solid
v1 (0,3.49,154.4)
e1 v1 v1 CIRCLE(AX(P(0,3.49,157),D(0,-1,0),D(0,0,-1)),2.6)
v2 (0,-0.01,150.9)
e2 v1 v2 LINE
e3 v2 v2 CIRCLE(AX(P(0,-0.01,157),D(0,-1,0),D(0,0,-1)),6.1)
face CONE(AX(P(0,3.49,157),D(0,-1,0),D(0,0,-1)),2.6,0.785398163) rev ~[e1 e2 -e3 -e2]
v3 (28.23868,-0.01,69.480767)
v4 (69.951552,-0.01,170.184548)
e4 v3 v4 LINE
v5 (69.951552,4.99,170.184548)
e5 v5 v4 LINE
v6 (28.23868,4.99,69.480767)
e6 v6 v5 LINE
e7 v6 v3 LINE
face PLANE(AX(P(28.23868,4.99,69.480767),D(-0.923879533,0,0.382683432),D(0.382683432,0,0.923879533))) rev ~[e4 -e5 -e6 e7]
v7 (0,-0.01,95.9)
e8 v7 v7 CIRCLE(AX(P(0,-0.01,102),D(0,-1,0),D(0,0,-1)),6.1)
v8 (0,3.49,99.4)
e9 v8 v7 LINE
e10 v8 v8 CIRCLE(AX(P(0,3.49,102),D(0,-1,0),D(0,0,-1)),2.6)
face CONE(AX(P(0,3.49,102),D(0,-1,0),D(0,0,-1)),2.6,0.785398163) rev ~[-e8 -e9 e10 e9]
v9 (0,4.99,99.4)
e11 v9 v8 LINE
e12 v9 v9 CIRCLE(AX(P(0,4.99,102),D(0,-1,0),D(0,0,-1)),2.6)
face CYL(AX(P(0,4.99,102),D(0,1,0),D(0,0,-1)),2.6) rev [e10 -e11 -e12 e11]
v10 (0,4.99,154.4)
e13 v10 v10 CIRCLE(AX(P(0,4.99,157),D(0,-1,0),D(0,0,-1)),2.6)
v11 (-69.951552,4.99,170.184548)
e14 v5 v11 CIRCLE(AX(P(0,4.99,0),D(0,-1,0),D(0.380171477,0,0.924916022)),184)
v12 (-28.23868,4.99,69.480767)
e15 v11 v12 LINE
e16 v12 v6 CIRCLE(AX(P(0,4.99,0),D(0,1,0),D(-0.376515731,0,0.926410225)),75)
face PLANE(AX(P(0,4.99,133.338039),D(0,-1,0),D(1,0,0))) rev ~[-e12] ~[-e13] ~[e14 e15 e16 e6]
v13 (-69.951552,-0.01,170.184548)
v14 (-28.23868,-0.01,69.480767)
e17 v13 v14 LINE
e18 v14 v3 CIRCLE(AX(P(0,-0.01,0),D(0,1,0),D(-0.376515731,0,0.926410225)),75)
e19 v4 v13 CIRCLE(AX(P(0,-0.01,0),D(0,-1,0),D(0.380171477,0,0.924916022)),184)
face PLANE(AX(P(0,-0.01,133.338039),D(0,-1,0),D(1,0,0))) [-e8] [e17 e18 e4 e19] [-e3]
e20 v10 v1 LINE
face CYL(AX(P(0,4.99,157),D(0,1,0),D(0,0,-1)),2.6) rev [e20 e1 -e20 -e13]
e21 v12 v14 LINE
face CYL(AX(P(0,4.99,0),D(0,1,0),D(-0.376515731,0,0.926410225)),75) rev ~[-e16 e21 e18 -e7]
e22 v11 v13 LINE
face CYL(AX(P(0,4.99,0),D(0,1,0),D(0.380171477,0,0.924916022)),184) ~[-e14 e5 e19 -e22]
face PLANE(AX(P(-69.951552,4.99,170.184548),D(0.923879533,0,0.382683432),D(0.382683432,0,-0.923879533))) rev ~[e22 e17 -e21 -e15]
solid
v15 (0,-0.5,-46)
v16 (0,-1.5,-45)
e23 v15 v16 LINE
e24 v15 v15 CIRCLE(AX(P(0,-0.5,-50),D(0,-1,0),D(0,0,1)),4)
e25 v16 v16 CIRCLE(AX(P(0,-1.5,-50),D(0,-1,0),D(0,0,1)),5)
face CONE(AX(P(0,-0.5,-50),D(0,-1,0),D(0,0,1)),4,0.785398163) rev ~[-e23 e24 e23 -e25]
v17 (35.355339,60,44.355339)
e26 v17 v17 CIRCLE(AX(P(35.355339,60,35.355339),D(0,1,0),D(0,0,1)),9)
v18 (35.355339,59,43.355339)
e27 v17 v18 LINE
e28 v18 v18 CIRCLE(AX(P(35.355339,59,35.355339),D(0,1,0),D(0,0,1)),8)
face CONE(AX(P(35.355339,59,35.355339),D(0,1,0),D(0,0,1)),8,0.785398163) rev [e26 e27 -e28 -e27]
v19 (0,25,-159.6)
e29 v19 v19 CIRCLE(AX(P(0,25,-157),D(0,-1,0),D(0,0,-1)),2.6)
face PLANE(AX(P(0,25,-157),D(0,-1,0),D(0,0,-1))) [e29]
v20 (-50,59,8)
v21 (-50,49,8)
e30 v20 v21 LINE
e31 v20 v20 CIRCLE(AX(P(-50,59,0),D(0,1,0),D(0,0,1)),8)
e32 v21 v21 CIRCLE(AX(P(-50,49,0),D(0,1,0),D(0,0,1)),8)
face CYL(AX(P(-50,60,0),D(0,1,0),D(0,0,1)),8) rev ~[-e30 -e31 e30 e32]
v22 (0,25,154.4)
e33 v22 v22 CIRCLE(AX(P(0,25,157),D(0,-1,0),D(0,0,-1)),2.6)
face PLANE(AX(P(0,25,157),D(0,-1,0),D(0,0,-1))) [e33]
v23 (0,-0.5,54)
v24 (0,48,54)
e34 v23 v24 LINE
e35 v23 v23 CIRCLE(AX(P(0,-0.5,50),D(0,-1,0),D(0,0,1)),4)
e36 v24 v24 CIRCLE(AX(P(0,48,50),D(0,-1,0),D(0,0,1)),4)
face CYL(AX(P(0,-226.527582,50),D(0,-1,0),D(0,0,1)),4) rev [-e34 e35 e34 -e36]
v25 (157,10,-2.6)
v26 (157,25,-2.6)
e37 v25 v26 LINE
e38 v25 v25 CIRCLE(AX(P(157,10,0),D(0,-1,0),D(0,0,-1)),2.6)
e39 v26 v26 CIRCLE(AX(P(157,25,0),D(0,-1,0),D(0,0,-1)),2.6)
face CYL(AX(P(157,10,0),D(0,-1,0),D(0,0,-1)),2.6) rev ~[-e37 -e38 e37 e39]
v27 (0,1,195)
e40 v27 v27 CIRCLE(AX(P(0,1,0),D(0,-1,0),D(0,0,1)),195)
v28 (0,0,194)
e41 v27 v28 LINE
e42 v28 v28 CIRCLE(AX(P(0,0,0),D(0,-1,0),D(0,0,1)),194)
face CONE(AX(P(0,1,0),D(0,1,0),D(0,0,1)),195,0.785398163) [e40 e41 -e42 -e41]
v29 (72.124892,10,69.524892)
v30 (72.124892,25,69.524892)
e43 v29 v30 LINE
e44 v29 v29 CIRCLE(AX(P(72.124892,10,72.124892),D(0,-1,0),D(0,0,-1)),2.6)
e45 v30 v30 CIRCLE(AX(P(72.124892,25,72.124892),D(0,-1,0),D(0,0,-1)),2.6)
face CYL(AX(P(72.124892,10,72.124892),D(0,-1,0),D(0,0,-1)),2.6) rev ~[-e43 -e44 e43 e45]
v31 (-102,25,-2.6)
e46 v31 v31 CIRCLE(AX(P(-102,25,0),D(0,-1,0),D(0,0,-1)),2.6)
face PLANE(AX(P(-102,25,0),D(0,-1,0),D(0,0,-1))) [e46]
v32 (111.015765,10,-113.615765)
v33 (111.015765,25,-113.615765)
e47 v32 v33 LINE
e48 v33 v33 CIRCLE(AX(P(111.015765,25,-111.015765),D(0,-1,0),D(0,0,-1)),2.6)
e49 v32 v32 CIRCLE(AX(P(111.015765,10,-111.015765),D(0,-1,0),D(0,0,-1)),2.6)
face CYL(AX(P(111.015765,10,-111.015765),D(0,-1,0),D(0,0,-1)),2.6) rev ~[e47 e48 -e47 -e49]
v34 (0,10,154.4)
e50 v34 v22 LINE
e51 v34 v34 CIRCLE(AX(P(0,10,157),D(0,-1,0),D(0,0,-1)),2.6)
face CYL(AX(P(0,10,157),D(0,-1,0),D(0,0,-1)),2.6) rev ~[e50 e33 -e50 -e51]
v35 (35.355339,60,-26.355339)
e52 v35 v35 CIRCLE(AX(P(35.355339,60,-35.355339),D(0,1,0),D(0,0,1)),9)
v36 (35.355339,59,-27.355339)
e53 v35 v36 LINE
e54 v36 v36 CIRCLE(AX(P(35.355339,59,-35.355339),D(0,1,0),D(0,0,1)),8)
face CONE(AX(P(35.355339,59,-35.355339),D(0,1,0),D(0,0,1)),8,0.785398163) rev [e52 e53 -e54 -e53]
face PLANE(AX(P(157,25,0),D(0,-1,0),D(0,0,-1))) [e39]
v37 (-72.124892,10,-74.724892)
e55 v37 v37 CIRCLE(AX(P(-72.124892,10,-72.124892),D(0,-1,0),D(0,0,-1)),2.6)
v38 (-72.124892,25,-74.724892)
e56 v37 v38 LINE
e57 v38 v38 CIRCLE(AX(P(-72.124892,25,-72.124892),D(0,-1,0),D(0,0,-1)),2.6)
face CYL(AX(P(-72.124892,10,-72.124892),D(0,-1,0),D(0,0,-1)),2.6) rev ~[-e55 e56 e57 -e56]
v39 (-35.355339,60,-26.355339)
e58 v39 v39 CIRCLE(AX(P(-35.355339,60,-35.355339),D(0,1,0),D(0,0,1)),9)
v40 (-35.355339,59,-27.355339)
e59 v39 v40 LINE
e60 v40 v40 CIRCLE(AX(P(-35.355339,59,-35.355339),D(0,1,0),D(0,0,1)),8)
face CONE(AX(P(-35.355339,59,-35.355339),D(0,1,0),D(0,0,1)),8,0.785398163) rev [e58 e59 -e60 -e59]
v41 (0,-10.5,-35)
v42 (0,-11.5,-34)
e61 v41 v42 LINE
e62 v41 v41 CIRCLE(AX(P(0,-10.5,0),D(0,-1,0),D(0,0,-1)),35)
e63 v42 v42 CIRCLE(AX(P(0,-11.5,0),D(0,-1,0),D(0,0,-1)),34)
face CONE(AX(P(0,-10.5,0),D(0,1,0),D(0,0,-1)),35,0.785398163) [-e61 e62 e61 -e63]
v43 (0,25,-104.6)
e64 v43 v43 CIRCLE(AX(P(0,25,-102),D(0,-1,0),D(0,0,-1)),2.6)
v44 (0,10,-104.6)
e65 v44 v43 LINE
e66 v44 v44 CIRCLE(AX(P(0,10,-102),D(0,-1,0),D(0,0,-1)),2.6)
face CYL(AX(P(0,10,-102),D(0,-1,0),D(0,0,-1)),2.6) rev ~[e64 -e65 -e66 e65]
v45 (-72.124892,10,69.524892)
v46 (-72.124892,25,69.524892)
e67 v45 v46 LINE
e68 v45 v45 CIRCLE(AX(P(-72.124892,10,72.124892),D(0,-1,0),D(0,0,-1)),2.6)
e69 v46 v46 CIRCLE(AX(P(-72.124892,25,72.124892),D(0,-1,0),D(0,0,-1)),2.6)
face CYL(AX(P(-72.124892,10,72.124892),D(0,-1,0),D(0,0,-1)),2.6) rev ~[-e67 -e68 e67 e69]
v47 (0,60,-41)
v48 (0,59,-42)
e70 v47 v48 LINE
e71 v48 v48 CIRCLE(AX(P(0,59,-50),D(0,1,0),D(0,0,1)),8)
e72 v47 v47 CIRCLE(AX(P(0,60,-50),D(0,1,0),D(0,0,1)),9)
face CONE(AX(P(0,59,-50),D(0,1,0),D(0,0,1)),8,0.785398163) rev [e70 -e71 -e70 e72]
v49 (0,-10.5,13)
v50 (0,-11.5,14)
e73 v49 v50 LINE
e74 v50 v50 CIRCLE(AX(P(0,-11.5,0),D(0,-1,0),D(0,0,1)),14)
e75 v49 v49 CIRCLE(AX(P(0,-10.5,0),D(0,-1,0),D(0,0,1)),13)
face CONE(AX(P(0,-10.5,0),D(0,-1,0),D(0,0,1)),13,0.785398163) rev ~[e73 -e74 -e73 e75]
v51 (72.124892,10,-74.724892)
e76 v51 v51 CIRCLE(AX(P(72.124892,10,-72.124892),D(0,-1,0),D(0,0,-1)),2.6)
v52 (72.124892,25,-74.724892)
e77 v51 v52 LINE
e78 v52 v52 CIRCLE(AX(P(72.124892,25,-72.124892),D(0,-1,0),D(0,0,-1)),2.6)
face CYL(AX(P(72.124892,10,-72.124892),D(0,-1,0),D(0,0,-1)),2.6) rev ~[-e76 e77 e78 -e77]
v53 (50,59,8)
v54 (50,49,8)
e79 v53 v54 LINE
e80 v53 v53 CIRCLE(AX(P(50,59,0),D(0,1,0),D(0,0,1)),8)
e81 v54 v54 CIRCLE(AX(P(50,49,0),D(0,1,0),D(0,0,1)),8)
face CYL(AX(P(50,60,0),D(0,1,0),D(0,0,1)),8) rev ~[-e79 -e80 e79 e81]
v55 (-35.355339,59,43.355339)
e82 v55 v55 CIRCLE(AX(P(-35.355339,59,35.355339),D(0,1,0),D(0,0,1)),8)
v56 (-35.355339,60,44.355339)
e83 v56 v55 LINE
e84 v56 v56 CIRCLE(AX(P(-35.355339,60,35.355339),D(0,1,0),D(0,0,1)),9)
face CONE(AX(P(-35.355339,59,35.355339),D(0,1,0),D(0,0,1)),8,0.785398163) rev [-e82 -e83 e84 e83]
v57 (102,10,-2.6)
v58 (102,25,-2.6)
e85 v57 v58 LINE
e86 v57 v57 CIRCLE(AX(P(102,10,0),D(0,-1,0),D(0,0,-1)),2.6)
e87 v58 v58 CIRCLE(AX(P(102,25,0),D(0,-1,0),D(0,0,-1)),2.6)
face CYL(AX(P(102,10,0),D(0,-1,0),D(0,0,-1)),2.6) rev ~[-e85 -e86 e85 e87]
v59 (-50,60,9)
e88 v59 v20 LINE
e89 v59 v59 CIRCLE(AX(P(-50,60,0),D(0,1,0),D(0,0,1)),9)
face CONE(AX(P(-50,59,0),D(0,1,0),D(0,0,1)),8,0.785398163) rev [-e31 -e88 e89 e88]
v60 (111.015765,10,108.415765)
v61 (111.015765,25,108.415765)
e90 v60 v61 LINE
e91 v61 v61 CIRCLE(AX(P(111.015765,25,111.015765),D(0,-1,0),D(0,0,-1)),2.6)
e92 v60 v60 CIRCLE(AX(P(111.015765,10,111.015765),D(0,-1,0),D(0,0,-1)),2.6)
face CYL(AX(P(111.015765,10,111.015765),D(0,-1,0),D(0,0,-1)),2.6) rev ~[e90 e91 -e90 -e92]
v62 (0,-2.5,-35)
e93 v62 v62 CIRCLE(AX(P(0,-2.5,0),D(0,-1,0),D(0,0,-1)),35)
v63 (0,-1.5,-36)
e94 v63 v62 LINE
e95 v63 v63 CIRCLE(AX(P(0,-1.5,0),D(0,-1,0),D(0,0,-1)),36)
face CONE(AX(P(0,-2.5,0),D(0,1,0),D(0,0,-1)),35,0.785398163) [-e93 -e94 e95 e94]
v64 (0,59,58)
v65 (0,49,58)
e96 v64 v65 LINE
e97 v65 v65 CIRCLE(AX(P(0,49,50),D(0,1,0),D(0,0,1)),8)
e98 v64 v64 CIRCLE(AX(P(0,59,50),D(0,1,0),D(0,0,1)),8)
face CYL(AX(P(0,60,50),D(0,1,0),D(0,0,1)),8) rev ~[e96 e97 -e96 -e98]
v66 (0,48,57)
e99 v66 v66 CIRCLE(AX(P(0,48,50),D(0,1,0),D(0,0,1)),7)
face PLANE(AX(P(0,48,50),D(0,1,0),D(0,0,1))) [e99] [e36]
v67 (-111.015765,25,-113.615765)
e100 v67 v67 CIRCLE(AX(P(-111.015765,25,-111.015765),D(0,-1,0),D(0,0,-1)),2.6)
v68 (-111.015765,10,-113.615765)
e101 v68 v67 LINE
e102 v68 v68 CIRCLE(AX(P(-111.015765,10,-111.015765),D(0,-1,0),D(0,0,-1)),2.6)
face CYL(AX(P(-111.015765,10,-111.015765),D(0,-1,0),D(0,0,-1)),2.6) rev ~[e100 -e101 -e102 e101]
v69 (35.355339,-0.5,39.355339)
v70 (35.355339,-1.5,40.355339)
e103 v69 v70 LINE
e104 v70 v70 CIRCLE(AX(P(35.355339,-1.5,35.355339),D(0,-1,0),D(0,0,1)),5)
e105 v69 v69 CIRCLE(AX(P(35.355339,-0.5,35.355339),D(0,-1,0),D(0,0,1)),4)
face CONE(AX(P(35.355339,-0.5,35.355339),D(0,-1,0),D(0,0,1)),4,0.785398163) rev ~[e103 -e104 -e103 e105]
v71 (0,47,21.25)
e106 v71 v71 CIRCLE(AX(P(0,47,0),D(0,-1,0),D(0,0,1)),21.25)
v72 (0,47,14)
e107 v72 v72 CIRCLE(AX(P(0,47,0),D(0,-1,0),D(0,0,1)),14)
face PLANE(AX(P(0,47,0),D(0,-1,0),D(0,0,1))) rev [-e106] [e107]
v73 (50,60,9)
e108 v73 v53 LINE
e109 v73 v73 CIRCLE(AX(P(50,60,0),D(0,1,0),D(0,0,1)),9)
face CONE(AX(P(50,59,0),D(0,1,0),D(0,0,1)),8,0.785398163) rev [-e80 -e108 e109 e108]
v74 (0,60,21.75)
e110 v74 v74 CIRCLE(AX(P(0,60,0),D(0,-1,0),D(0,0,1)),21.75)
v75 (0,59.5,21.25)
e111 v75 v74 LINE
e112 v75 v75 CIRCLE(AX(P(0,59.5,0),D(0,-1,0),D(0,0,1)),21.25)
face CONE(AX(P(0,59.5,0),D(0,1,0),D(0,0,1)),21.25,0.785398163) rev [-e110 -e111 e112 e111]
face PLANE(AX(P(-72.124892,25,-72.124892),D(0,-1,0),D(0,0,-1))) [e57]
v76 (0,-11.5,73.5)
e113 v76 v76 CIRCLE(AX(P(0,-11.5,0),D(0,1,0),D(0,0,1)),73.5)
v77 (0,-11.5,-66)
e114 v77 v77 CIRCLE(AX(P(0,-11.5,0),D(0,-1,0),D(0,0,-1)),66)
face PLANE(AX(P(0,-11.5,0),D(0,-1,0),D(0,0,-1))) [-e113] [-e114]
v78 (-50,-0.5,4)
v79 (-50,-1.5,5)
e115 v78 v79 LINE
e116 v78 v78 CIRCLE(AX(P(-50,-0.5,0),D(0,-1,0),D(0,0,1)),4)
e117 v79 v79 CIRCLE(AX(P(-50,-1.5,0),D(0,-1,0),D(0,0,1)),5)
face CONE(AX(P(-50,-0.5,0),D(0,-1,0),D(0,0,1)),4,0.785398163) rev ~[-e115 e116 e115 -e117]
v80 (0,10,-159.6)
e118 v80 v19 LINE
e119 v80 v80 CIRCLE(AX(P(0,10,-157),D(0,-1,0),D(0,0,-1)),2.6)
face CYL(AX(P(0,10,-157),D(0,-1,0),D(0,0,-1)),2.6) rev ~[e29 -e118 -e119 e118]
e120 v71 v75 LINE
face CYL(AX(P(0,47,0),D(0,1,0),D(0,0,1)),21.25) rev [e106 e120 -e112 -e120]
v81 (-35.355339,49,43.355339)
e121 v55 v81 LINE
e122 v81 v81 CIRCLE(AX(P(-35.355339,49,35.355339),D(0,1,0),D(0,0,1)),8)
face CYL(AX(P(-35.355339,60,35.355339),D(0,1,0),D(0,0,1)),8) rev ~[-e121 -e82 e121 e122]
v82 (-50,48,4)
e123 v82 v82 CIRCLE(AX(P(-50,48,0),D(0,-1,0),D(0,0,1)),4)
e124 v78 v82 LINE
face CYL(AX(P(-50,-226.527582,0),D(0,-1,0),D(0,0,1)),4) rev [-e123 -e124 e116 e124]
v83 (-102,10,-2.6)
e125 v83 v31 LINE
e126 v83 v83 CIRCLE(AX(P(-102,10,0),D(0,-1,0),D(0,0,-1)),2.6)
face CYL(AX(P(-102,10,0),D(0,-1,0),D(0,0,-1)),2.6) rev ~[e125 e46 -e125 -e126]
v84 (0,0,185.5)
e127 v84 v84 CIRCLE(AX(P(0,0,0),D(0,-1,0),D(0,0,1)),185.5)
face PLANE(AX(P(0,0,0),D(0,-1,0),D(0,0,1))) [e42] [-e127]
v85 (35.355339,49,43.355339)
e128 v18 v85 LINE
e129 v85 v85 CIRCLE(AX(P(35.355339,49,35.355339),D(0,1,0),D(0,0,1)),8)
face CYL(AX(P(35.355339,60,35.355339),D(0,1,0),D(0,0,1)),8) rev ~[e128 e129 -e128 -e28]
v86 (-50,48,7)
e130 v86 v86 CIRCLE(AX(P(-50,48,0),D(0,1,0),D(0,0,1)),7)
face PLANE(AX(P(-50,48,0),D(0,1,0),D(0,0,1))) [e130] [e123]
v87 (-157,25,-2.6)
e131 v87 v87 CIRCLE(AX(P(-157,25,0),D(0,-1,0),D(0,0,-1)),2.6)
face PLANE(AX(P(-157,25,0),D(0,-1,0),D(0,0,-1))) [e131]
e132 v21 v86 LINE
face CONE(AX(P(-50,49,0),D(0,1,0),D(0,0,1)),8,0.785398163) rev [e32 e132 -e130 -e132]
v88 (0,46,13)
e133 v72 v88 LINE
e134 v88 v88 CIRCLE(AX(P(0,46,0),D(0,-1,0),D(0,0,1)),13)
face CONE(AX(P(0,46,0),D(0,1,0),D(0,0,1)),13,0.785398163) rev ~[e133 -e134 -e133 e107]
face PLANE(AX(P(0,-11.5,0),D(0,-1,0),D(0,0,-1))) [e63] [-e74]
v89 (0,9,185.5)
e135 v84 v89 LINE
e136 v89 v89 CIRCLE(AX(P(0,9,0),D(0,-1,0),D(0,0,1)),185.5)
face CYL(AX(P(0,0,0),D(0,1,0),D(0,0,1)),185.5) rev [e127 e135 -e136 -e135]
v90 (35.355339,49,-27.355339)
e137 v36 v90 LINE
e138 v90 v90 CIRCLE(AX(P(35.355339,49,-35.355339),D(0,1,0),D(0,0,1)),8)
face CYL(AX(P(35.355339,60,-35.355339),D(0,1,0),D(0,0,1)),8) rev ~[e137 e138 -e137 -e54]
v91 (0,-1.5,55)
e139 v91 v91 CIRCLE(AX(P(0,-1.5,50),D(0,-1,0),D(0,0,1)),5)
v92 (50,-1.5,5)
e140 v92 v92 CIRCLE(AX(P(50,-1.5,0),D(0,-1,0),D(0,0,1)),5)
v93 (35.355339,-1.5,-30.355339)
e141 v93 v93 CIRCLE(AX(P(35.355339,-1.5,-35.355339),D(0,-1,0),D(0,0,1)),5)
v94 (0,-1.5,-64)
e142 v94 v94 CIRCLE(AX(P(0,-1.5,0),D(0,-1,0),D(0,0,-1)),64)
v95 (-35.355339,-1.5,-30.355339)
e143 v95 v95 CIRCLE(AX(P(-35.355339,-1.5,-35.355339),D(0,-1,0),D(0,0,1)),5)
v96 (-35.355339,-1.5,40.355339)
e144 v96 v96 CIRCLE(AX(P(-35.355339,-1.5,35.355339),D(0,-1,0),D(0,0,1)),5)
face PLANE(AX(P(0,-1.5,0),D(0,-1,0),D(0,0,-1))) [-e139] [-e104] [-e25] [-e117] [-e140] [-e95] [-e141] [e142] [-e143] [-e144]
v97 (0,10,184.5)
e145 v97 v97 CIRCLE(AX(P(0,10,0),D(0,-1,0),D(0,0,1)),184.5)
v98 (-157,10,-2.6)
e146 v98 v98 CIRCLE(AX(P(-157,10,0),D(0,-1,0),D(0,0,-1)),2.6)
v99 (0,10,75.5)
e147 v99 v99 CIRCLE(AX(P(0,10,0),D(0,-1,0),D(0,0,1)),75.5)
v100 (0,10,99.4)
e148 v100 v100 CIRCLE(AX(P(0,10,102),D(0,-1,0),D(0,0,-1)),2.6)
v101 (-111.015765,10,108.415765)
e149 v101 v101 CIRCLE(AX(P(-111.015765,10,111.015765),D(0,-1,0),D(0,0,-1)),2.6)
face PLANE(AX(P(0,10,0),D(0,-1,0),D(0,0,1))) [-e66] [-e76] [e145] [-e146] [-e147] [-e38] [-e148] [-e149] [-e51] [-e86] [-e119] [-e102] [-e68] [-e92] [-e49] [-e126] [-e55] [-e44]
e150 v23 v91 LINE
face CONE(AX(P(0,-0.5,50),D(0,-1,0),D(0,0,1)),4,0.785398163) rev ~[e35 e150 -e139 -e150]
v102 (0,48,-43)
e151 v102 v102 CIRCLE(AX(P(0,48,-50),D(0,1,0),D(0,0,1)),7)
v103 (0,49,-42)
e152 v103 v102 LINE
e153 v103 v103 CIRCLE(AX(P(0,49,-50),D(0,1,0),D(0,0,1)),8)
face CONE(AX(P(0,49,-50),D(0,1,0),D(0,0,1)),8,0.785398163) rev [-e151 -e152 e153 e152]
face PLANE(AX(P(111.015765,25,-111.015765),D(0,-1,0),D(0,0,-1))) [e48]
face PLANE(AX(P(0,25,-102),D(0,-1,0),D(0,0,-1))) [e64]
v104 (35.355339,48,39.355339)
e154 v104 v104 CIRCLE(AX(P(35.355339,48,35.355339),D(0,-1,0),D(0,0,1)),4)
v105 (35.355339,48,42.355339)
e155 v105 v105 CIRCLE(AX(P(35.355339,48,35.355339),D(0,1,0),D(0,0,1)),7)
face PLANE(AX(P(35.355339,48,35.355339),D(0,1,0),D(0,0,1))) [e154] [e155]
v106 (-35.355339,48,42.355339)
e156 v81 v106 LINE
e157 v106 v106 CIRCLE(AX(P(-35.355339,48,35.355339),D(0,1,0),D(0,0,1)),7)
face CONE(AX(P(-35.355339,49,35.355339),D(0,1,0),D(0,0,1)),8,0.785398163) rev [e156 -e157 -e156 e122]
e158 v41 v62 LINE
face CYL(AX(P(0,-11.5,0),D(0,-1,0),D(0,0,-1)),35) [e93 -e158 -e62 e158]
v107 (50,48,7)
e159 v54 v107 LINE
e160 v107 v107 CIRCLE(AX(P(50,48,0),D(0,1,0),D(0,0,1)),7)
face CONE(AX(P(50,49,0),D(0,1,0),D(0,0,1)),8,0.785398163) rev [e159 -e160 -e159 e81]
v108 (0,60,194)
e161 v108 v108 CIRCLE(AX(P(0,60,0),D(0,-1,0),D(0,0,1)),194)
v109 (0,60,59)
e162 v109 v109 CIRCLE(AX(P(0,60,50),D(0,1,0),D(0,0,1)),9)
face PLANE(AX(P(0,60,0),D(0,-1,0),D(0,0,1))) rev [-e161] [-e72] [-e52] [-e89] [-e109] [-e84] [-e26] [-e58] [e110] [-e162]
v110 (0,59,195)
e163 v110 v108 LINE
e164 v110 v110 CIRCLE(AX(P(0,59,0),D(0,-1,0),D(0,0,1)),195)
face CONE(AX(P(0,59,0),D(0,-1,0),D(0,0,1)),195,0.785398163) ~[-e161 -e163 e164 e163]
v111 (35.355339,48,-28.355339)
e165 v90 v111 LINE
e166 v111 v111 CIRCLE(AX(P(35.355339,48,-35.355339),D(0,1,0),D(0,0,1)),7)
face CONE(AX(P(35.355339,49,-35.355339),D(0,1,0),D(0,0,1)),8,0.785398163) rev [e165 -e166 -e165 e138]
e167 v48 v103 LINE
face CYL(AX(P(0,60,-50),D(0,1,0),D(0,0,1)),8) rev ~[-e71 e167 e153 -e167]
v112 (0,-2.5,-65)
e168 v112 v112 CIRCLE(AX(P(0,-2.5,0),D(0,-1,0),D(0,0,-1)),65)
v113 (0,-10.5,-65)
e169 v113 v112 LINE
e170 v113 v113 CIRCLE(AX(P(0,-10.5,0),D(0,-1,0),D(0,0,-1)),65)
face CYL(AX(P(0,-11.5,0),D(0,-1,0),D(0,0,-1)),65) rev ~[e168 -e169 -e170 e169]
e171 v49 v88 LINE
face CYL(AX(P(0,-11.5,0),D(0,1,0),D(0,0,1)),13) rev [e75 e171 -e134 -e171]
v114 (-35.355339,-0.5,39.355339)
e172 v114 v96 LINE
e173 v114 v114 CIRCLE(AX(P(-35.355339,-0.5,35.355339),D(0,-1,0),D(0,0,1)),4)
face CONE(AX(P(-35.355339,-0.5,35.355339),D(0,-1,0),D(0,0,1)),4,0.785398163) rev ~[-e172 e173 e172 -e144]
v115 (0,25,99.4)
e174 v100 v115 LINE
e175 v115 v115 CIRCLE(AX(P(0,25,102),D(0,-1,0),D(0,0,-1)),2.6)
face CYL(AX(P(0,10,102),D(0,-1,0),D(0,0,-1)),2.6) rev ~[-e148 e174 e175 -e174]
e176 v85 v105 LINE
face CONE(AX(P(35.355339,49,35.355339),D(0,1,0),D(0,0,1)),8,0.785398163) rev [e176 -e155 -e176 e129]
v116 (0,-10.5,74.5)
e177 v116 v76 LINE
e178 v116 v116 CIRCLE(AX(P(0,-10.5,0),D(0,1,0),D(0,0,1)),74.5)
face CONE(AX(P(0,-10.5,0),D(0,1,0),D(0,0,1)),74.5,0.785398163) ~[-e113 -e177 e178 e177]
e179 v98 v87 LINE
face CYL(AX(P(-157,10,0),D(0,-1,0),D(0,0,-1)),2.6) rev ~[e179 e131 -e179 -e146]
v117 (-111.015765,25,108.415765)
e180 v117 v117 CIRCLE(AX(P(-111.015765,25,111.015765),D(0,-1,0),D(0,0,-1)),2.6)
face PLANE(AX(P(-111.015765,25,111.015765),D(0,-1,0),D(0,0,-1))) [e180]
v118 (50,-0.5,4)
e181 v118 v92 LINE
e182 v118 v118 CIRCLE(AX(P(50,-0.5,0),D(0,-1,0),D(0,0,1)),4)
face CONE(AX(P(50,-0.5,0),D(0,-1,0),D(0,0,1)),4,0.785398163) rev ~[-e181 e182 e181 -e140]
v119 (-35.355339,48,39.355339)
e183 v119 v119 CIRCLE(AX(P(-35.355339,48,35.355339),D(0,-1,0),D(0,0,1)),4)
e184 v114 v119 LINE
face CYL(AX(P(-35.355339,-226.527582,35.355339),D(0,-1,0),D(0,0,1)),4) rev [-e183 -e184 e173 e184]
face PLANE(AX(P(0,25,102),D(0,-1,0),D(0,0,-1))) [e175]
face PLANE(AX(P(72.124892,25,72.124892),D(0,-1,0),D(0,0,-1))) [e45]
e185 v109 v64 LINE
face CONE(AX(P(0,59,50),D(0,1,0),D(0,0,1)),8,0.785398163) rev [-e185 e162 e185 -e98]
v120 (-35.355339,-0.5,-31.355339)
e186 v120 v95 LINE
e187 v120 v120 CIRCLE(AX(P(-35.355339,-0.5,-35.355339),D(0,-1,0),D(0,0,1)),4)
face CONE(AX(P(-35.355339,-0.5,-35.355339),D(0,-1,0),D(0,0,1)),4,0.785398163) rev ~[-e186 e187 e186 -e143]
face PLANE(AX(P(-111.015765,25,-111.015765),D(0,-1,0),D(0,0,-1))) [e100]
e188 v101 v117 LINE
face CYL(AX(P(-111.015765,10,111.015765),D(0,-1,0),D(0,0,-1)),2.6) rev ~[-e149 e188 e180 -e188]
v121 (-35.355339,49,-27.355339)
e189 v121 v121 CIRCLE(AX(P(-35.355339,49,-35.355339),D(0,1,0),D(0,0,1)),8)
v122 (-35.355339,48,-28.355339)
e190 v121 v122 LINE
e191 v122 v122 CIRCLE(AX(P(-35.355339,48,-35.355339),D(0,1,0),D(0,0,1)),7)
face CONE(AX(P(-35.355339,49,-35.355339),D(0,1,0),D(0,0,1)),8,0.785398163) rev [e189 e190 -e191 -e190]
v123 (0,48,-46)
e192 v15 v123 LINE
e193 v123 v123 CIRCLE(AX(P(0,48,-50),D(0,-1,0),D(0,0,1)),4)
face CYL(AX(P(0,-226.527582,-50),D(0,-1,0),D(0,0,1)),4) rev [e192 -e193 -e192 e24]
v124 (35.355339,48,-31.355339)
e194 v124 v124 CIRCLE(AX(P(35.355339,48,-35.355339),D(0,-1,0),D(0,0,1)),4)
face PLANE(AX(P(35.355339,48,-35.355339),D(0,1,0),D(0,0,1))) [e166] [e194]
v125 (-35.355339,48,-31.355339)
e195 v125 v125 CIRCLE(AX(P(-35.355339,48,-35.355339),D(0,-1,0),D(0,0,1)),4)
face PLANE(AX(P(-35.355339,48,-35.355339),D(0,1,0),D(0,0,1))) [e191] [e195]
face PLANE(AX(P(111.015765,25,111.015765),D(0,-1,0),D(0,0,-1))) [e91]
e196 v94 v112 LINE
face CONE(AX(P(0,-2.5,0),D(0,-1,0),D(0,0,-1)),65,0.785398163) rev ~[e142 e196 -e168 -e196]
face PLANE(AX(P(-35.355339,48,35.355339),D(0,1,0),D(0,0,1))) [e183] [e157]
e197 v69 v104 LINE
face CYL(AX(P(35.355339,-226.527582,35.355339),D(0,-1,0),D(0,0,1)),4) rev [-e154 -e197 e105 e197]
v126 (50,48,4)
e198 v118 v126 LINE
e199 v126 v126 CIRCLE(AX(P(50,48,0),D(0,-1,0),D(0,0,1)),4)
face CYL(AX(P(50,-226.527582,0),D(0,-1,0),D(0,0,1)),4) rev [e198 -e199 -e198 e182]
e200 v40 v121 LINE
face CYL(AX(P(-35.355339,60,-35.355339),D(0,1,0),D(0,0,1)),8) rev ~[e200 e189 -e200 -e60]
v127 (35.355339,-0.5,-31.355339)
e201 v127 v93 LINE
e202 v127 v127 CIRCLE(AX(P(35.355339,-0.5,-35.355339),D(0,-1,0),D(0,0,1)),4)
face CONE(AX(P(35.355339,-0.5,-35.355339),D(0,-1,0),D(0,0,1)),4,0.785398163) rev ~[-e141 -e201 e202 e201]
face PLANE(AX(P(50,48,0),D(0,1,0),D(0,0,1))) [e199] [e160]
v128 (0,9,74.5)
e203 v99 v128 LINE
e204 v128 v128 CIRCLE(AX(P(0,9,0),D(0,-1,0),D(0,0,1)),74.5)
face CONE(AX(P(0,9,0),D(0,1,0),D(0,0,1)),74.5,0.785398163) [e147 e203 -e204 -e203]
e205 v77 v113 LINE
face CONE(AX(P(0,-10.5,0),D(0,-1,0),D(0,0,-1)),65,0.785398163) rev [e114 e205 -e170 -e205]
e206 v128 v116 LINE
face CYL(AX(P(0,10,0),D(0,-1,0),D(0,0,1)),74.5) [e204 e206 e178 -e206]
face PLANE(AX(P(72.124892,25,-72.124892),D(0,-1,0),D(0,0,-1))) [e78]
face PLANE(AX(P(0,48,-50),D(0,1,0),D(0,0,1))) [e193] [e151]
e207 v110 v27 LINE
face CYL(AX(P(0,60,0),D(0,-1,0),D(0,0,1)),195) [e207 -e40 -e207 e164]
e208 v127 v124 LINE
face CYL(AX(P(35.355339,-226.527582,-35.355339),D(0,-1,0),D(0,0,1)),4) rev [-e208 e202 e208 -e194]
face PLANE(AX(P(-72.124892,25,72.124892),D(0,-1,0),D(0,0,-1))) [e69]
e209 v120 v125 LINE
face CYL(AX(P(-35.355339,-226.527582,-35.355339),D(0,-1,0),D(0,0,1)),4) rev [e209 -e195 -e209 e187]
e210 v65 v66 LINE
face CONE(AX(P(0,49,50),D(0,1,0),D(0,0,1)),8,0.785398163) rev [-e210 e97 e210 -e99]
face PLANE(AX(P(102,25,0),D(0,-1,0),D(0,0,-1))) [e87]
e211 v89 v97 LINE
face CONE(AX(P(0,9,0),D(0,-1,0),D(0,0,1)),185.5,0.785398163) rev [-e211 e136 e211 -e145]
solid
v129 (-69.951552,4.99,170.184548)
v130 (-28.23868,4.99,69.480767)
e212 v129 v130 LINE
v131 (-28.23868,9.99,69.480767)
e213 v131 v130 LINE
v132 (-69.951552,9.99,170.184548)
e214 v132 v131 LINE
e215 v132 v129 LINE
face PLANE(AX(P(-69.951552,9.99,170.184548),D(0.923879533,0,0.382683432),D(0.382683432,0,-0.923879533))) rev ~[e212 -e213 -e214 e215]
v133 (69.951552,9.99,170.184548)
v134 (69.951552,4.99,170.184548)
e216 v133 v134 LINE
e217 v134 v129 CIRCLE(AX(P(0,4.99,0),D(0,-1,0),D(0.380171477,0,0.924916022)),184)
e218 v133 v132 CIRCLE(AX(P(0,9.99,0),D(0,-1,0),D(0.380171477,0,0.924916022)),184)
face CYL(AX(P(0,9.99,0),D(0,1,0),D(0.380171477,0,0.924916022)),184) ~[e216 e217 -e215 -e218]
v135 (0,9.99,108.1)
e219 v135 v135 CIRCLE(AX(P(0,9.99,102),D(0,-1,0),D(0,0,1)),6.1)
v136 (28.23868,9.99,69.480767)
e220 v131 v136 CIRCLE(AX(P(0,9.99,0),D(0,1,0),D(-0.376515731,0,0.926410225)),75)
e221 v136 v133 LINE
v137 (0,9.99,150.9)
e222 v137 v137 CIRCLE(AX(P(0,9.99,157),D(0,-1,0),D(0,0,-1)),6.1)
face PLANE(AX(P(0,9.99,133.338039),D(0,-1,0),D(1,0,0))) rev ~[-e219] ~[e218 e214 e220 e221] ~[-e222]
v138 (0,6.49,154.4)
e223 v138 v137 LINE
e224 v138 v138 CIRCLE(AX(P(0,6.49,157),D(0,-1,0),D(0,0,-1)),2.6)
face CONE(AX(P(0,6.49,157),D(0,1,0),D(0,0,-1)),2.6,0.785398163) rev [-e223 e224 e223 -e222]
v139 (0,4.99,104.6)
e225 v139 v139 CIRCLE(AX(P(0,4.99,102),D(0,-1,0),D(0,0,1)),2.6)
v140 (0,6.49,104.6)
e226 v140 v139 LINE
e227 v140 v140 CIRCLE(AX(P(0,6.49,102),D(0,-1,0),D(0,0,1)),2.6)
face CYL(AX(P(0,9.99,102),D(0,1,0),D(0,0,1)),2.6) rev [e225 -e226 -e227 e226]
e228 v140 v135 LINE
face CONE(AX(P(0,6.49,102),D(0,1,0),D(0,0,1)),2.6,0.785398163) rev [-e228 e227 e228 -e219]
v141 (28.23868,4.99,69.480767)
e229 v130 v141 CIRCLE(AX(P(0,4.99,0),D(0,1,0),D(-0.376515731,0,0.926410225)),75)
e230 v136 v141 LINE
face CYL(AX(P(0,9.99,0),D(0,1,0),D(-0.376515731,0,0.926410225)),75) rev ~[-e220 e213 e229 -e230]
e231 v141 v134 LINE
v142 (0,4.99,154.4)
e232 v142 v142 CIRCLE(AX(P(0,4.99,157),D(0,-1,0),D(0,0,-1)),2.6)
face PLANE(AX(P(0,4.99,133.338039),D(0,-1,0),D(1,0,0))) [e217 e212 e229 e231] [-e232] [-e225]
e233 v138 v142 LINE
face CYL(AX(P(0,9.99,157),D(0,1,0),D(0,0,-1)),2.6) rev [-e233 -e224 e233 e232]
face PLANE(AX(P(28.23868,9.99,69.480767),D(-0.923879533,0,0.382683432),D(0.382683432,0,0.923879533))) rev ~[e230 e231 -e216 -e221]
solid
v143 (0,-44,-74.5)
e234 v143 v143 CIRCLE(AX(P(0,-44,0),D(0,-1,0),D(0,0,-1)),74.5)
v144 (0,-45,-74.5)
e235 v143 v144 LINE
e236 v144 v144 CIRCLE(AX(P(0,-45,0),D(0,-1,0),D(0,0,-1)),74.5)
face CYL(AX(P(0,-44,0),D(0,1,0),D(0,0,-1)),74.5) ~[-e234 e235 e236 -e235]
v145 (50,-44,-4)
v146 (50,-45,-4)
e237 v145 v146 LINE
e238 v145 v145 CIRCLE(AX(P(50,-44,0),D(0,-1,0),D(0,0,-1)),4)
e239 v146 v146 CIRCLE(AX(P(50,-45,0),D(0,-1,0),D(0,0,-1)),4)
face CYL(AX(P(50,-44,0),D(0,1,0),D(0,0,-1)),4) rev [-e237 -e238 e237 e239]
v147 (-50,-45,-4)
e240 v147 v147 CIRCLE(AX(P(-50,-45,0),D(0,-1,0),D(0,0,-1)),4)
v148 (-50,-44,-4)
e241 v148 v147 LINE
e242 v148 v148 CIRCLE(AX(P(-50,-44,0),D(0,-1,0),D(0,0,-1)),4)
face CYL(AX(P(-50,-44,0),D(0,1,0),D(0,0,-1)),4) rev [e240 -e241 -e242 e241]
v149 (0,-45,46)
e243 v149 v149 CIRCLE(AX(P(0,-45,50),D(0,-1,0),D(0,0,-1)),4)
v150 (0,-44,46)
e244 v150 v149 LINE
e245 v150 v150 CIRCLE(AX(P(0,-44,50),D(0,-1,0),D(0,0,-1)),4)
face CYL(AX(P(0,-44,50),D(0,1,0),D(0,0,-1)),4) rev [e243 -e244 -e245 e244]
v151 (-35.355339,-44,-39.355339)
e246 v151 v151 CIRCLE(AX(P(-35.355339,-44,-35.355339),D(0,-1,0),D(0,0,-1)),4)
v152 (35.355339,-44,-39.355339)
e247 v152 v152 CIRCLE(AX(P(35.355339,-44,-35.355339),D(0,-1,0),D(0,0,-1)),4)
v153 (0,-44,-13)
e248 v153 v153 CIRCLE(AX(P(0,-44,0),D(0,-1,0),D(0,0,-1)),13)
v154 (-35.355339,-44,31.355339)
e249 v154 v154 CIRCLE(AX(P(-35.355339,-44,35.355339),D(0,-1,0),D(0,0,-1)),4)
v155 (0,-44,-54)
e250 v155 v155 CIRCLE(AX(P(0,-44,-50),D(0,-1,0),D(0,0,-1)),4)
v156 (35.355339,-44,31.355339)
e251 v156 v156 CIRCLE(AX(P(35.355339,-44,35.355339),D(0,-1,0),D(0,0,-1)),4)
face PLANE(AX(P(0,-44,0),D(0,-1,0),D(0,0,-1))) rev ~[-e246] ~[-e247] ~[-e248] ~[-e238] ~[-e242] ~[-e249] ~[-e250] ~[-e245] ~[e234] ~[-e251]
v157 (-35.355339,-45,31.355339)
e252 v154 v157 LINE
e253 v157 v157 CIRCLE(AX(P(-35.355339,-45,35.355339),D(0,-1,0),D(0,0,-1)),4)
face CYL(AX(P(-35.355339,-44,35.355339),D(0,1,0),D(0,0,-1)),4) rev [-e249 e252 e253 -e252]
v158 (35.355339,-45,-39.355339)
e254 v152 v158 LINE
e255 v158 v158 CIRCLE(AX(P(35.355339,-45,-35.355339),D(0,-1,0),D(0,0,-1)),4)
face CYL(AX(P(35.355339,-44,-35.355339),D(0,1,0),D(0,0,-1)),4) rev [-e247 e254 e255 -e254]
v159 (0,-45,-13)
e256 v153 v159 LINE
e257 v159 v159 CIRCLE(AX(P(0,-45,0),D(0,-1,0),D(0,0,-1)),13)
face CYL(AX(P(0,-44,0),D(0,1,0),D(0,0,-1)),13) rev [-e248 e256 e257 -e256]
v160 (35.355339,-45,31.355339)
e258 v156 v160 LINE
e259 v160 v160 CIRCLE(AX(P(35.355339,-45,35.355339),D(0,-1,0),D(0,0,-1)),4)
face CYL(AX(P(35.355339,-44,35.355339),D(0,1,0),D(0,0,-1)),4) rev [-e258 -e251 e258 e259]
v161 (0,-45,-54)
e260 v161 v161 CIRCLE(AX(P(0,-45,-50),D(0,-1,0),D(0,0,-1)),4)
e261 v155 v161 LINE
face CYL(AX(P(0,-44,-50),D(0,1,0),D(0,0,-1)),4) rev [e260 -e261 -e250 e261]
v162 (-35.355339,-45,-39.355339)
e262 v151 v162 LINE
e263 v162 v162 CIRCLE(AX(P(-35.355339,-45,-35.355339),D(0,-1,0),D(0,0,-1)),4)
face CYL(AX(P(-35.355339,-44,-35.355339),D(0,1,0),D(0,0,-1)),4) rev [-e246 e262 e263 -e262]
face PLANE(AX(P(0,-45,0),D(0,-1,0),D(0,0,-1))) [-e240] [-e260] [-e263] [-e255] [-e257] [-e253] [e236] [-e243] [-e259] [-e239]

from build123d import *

# Parameters (mm, degrees)
CUT_EXTRUDE1_DEPTH      = 286.527581855
CUT_EXTRUDE1_DEPTH_BACK = 286.527581855
SKETCH2_R               = 4
SKETCH4_R               = 8
CUT_EXTRUDE3_DEPTH      = 12
BOSS_EXTRUDE1_START     = 30
SKETCH5_R               = 74.5
SKETCH5_R_2             = 4
SKETCH5_R_3             = 13
BOSS_EXTRUDE1_DEPTH     = 1
SKETCH6_R               = 74.5
CUT_EXTRUDE4_DEPTH      = 2.5
BOSS_EXTRUDE3_START     = 0.01
SKETCH7_R               = 2.6
BOSS_EXTRUDE3_DEPTH     = 5
SKETCH8_R               = 2.6
BOSS_EXTRUDE4_DEPTH     = 5
CHAMFER3_SIZE           = 3.5
CHAMFER4_SIZE           = 3.5
SKETCH9_R               = 2.6
CUT_EXTRUDE5_DEPTH      = 15
SKETCH10_R              = 65
SKETCH10_R_2            = 35
CUT_EXTRUDE6_DEPTH      = 10
CHAMFER5_SIZE           = 1


with BuildPart() as part:
    # Sketch1 → Revolve1 (revolve)
    with BuildSketch(Plane(origin=(0, 0, 0), x_dir=(0, 0, -1), z_dir=(1, 0, 0))):
        Polygon((-195, 60), (-195, 0), (-185.5, 0), (-185.5, 10), (-74.5, 10), (-74.5, 0), (-74.5, -14), (-15.5, -14), (-13, -11.5), (-13, 47), (-21.25, 47), (-21.25, 59.5), (-21.75, 60), (-74.5, 60), (-185.5, 60), align=None)
    revolve(axis=Axis((0, -14, 0), (0, -1, 0)))

    # Sketch2 → Cut-Extrude1 (cut, two sides: drawn at the far end of the back side and taken through both)
    with BuildSketch(Plane(origin=(0, 60, 0), x_dir=(1, 0, 0), z_dir=(0, 1, 0)).offset(-CUT_EXTRUDE1_DEPTH_BACK)):
        with Locations(Location((-50, 0, 0), (0, 0, 270))):
            Circle(SKETCH2_R)
        with Locations(Location((-35.355339059, 35.355339059, 0), (0, 0, 270))):
            Circle(SKETCH2_R)
        with Locations(Location((0, 50, 0), (0, 0, 270))):
            Circle(SKETCH2_R)
        with Locations(Location((35.355339059, 35.355339059, 0), (0, 0, 270))):
            Circle(SKETCH2_R)
        with Locations(Location((50, 0, 0), (0, 0, 270))):
            Circle(SKETCH2_R)
        with Locations(Location((35.355339059, -35.355339059, 0), (0, 0, 270))):
            Circle(SKETCH2_R)
        with Locations(Location((0, -50, 0), (0, 0, 270))):
            Circle(SKETCH2_R)
        with Locations(Location((-35.355339059, -35.355339059, 0), (0, 0, 270))):
            Circle(SKETCH2_R)
    extrude(amount=CUT_EXTRUDE1_DEPTH + CUT_EXTRUDE1_DEPTH_BACK, mode=Mode.SUBTRACT)

    # Sketch4 → Cut-Extrude3 (cut)
    with BuildSketch(Plane(origin=(0, 60, 0), x_dir=(1, 0, 0), z_dir=(0, 1, 0))):
        with Locations(Location((0, 50, 0), (0, 0, 270))):
            Circle(SKETCH4_R)
        with Locations(Location((35.355339059, 35.355339059, 0), (0, 0, 270))):
            Circle(SKETCH4_R)
        with Locations(Location((50, 0, 0), (0, 0, 270))):
            Circle(SKETCH4_R)
        with Locations(Location((35.355339059, -35.355339059, 0), (0, 0, 270))):
            Circle(SKETCH4_R)
        with Locations(Location((0, -50, 0), (0, 0, 270))):
            Circle(SKETCH4_R)
        with Locations(Location((-35.355339059, -35.355339059, 0), (0, 0, 270))):
            Circle(SKETCH4_R)
        with Locations(Location((-50, 0, 0), (0, 0, 270))):
            Circle(SKETCH4_R)
        with Locations(Location((-35.355339059, 35.355339059, 0), (0, 0, 270))):
            Circle(SKETCH4_R)
    extrude(amount=-CUT_EXTRUDE3_DEPTH, mode=Mode.SUBTRACT)

    # Sketch6 → Cut-Extrude4 (cut)
    with BuildSketch(Plane.XZ.offset(14)):
        with Locations(Location((0, 0, 0), (0, 0, 270))):
            Circle(SKETCH6_R)
    extrude(amount=-CUT_EXTRUDE4_DEPTH, mode=Mode.SUBTRACT)

    # Sketch9 → Cut-Extrude5 (cut)
    with BuildSketch(Plane.XZ.offset(-10)):
        with Locations(Location((0, 157, 0), (0, 0, 270))):
            Circle(SKETCH9_R)
        with Locations(Location((0, 102, 0), (0, 0, 270))):
            Circle(SKETCH9_R)
        with Locations(Location((111.015764646, 111.015764646, 0), (0, 0, 270))):
            Circle(SKETCH9_R)
        with Locations(Location((72.124891681, 72.124891681, 0), (0, 0, 270))):
            Circle(SKETCH9_R)
        with Locations(Location((157, 0, 0), (0, 0, 270))):
            Circle(SKETCH9_R)
        with Locations(Location((102, 0, 0), (0, 0, 270))):
            Circle(SKETCH9_R)
        with Locations(Location((111.015764646, -111.015764646, 0), (0, 0, 270))):
            Circle(SKETCH9_R)
        with Locations(Location((72.124891681, -72.124891681, 0), (0, 0, 270))):
            Circle(SKETCH9_R)
        with Locations(Location((0, -157, 0), (0, 0, 270))):
            Circle(SKETCH9_R)
        with Locations(Location((0, -102, 0), (0, 0, 270))):
            Circle(SKETCH9_R)
        with Locations(Location((-111.015764646, -111.015764646, 0), (0, 0, 270))):
            Circle(SKETCH9_R)
        with Locations(Location((-72.124891681, -72.124891681, 0), (0, 0, 270))):
            Circle(SKETCH9_R)
        with Locations(Location((-157, 0, 0), (0, 0, 270))):
            Circle(SKETCH9_R)
        with Locations(Location((-102, 0, 0), (0, 0, 270))):
            Circle(SKETCH9_R)
        with Locations(Location((-111.015764646, 111.015764646, 0), (0, 0, 270))):
            Circle(SKETCH9_R)
        with Locations(Location((-72.124891681, 72.124891681, 0), (0, 0, 270))):
            Circle(SKETCH9_R)
    extrude(amount=-CUT_EXTRUDE5_DEPTH, mode=Mode.SUBTRACT)

    # Sketch10 → Cut-Extrude6 (cut)
    with BuildSketch(Plane.XZ.offset(11.5)):
        with Locations(Location((0, 0, 0), (0, 0, 270))):
            Circle(SKETCH10_R)
        with Locations(Location((0, 0, 0), (0, 0, 270))):
            Circle(SKETCH10_R_2, mode=Mode.SUBTRACT)
    extrude(amount=-CUT_EXTRUDE6_DEPTH, mode=Mode.SUBTRACT)

    # Chamfer5
    chamfer5_edges = [part.edges().sort_by_distance(p)[0] for p in [
        (50, 60, -8),
        (50, 48, -8),
        (35.355339059, 60, -43.355339059),
        (35.355339059, 48, -43.355339059),
        (0, 60, -58),
        (0, 48, -58),
        (0, 60, -195),
        (0, 0, -195),
        (0, 10, -185.5),
        (0, -11.5, -13),
        (0, -11.5, -74.5),
        (0, 10, -74.5),
        (0, 47, -13),
        (0, -1.5, 35),
        (-35.355339059, -1.5, 31.355339059),
        (0, -1.5, 46),
        (35.355339059, -1.5, 31.355339059),
        (50, -1.5, -4),
        (35.355339059, -1.5, -39.355339059),
        (0, -1.5, -54),
        (-35.355339059, -1.5, -39.355339059),
        (0, -11.5, 65),
        (0, -1.5, 65),
        (-50, -1.5, -4),
        (0, -11.5, 35),
        (-35.355339059, 60, -43.355339059),
        (-35.355339059, 48, -43.355339059),
        (-50, 60, -8),
        (-50, 48, -8),
        (-35.355339059, 60, 27.355339059),
        (-35.355339059, 48, 27.355339059),
        (0, 60, 42),
        (0, 48, 42),
        (35.355339059, 60, 27.355339059),
        (35.355339059, 48, 27.355339059),
    ]]
    chamfer(chamfer5_edges, length=CHAMFER5_SIZE)


with BuildPart() as body_2:
    # Sketch5 → Boss-Extrude1 (new body)
    with BuildSketch(Plane.XZ.offset(14).offset(BOSS_EXTRUDE1_START)):
        with Locations(Location((0, 0, 0), (0, 0, 270))):
            Circle(SKETCH5_R)
        with Locations(Location((35.355339059, -35.355339059, 0), (0, 0, 270))):
            Circle(SKETCH5_R_2, mode=Mode.SUBTRACT)
        with Locations(Location((0, -50, 0), (0, 0, 270))):
            Circle(SKETCH5_R_2, mode=Mode.SUBTRACT)
        with Locations(Location((-35.355339059, -35.355339059, 0), (0, 0, 270))):
            Circle(SKETCH5_R_2, mode=Mode.SUBTRACT)
        with Locations(Location((-50, 0, 0), (0, 0, 270))):
            Circle(SKETCH5_R_2, mode=Mode.SUBTRACT)
        with Locations(Location((50, 0, 0), (0, 0, 270))):
            Circle(SKETCH5_R_2, mode=Mode.SUBTRACT)
        with Locations(Location((35.355339059, 35.355339059, 0), (0, 0, 270))):
            Circle(SKETCH5_R_2, mode=Mode.SUBTRACT)
        with Locations(Location((-35.355339059, 35.355339059, 0), (0, 0, 270))):
            Circle(SKETCH5_R_2, mode=Mode.SUBTRACT)
        with Locations(Location((0, 50, 0), (0, 0, 270))):
            Circle(SKETCH5_R_2, mode=Mode.SUBTRACT)
        with Locations(Location((0, 0, 0), (0, 0, 270))):
            Circle(SKETCH5_R_3, mode=Mode.SUBTRACT)
    extrude(amount=BOSS_EXTRUDE1_DEPTH)


with BuildPart() as body_3:
    # Sketch7 → Boss-Extrude3 (new body)
    with BuildSketch(Plane.XZ.offset(-10).offset(BOSS_EXTRUDE3_START)):
        with BuildLine():
            Line((28.238679848, 69.480766838), (69.951551813, 170.184548062))
            ThreePointArc((69.951551813, 170.184548062), (0, 184), (-69.951551813, 170.184548062))
            Line((-69.951551813, 170.184548062), (-28.238679848, 69.480766838))
            ThreePointArc((-28.238679848, 69.480766838), (0, 75), (28.238679848, 69.480766838))
        make_face()
        with Locations(Location((0, 157, 0), (0, 0, 270))):
            Circle(SKETCH7_R, mode=Mode.SUBTRACT)
        with Locations(Location((0, 102, 0), (0, 0, 90))):
            Circle(SKETCH7_R, mode=Mode.SUBTRACT)
    extrude(amount=BOSS_EXTRUDE3_DEPTH)

    # Chamfer4
    chamfer4_edges = [body_3.edges().sort_by_distance(p)[0] for p in [
        (0, 9.99, 159.6),
        (0, 9.99, 99.4),
    ]]
    chamfer(chamfer4_edges, length=CHAMFER4_SIZE)


with BuildPart() as body_4:
    # Sketch8 → Boss-Extrude4 (new body)
    with BuildSketch(Plane.XZ.offset(-4.99)):
        with BuildLine():
            Line((28.238679848, 69.480766838), (69.951551813, 170.184548062))
            ThreePointArc((69.951551813, 170.184548062), (0, 184), (-69.951551813, 170.184548062))
            Line((-69.951551813, 170.184548062), (-28.238679848, 69.480766838))
            ThreePointArc((-28.238679848, 69.480766838), (0, 75), (28.238679848, 69.480766838))
        make_face()
        with Locations(Location((0, 102, 0), (0, 0, 270))):
            Circle(SKETCH8_R, mode=Mode.SUBTRACT)
        with Locations(Location((0, 157, 0), (0, 0, 270))):
            Circle(SKETCH8_R, mode=Mode.SUBTRACT)
    extrude(amount=BOSS_EXTRUDE4_DEPTH)

    # Chamfer3
    chamfer3_edges = [body_4.edges().sort_by_distance(p)[0] for p in [
        (0, -0.01, 104.6),
        (0, -0.01, 159.6),
    ]]
    chamfer(chamfer3_edges, length=CHAMFER3_SIZE)


solid = Compound([part.part, body_2.part, body_3.part, body_4.part])
